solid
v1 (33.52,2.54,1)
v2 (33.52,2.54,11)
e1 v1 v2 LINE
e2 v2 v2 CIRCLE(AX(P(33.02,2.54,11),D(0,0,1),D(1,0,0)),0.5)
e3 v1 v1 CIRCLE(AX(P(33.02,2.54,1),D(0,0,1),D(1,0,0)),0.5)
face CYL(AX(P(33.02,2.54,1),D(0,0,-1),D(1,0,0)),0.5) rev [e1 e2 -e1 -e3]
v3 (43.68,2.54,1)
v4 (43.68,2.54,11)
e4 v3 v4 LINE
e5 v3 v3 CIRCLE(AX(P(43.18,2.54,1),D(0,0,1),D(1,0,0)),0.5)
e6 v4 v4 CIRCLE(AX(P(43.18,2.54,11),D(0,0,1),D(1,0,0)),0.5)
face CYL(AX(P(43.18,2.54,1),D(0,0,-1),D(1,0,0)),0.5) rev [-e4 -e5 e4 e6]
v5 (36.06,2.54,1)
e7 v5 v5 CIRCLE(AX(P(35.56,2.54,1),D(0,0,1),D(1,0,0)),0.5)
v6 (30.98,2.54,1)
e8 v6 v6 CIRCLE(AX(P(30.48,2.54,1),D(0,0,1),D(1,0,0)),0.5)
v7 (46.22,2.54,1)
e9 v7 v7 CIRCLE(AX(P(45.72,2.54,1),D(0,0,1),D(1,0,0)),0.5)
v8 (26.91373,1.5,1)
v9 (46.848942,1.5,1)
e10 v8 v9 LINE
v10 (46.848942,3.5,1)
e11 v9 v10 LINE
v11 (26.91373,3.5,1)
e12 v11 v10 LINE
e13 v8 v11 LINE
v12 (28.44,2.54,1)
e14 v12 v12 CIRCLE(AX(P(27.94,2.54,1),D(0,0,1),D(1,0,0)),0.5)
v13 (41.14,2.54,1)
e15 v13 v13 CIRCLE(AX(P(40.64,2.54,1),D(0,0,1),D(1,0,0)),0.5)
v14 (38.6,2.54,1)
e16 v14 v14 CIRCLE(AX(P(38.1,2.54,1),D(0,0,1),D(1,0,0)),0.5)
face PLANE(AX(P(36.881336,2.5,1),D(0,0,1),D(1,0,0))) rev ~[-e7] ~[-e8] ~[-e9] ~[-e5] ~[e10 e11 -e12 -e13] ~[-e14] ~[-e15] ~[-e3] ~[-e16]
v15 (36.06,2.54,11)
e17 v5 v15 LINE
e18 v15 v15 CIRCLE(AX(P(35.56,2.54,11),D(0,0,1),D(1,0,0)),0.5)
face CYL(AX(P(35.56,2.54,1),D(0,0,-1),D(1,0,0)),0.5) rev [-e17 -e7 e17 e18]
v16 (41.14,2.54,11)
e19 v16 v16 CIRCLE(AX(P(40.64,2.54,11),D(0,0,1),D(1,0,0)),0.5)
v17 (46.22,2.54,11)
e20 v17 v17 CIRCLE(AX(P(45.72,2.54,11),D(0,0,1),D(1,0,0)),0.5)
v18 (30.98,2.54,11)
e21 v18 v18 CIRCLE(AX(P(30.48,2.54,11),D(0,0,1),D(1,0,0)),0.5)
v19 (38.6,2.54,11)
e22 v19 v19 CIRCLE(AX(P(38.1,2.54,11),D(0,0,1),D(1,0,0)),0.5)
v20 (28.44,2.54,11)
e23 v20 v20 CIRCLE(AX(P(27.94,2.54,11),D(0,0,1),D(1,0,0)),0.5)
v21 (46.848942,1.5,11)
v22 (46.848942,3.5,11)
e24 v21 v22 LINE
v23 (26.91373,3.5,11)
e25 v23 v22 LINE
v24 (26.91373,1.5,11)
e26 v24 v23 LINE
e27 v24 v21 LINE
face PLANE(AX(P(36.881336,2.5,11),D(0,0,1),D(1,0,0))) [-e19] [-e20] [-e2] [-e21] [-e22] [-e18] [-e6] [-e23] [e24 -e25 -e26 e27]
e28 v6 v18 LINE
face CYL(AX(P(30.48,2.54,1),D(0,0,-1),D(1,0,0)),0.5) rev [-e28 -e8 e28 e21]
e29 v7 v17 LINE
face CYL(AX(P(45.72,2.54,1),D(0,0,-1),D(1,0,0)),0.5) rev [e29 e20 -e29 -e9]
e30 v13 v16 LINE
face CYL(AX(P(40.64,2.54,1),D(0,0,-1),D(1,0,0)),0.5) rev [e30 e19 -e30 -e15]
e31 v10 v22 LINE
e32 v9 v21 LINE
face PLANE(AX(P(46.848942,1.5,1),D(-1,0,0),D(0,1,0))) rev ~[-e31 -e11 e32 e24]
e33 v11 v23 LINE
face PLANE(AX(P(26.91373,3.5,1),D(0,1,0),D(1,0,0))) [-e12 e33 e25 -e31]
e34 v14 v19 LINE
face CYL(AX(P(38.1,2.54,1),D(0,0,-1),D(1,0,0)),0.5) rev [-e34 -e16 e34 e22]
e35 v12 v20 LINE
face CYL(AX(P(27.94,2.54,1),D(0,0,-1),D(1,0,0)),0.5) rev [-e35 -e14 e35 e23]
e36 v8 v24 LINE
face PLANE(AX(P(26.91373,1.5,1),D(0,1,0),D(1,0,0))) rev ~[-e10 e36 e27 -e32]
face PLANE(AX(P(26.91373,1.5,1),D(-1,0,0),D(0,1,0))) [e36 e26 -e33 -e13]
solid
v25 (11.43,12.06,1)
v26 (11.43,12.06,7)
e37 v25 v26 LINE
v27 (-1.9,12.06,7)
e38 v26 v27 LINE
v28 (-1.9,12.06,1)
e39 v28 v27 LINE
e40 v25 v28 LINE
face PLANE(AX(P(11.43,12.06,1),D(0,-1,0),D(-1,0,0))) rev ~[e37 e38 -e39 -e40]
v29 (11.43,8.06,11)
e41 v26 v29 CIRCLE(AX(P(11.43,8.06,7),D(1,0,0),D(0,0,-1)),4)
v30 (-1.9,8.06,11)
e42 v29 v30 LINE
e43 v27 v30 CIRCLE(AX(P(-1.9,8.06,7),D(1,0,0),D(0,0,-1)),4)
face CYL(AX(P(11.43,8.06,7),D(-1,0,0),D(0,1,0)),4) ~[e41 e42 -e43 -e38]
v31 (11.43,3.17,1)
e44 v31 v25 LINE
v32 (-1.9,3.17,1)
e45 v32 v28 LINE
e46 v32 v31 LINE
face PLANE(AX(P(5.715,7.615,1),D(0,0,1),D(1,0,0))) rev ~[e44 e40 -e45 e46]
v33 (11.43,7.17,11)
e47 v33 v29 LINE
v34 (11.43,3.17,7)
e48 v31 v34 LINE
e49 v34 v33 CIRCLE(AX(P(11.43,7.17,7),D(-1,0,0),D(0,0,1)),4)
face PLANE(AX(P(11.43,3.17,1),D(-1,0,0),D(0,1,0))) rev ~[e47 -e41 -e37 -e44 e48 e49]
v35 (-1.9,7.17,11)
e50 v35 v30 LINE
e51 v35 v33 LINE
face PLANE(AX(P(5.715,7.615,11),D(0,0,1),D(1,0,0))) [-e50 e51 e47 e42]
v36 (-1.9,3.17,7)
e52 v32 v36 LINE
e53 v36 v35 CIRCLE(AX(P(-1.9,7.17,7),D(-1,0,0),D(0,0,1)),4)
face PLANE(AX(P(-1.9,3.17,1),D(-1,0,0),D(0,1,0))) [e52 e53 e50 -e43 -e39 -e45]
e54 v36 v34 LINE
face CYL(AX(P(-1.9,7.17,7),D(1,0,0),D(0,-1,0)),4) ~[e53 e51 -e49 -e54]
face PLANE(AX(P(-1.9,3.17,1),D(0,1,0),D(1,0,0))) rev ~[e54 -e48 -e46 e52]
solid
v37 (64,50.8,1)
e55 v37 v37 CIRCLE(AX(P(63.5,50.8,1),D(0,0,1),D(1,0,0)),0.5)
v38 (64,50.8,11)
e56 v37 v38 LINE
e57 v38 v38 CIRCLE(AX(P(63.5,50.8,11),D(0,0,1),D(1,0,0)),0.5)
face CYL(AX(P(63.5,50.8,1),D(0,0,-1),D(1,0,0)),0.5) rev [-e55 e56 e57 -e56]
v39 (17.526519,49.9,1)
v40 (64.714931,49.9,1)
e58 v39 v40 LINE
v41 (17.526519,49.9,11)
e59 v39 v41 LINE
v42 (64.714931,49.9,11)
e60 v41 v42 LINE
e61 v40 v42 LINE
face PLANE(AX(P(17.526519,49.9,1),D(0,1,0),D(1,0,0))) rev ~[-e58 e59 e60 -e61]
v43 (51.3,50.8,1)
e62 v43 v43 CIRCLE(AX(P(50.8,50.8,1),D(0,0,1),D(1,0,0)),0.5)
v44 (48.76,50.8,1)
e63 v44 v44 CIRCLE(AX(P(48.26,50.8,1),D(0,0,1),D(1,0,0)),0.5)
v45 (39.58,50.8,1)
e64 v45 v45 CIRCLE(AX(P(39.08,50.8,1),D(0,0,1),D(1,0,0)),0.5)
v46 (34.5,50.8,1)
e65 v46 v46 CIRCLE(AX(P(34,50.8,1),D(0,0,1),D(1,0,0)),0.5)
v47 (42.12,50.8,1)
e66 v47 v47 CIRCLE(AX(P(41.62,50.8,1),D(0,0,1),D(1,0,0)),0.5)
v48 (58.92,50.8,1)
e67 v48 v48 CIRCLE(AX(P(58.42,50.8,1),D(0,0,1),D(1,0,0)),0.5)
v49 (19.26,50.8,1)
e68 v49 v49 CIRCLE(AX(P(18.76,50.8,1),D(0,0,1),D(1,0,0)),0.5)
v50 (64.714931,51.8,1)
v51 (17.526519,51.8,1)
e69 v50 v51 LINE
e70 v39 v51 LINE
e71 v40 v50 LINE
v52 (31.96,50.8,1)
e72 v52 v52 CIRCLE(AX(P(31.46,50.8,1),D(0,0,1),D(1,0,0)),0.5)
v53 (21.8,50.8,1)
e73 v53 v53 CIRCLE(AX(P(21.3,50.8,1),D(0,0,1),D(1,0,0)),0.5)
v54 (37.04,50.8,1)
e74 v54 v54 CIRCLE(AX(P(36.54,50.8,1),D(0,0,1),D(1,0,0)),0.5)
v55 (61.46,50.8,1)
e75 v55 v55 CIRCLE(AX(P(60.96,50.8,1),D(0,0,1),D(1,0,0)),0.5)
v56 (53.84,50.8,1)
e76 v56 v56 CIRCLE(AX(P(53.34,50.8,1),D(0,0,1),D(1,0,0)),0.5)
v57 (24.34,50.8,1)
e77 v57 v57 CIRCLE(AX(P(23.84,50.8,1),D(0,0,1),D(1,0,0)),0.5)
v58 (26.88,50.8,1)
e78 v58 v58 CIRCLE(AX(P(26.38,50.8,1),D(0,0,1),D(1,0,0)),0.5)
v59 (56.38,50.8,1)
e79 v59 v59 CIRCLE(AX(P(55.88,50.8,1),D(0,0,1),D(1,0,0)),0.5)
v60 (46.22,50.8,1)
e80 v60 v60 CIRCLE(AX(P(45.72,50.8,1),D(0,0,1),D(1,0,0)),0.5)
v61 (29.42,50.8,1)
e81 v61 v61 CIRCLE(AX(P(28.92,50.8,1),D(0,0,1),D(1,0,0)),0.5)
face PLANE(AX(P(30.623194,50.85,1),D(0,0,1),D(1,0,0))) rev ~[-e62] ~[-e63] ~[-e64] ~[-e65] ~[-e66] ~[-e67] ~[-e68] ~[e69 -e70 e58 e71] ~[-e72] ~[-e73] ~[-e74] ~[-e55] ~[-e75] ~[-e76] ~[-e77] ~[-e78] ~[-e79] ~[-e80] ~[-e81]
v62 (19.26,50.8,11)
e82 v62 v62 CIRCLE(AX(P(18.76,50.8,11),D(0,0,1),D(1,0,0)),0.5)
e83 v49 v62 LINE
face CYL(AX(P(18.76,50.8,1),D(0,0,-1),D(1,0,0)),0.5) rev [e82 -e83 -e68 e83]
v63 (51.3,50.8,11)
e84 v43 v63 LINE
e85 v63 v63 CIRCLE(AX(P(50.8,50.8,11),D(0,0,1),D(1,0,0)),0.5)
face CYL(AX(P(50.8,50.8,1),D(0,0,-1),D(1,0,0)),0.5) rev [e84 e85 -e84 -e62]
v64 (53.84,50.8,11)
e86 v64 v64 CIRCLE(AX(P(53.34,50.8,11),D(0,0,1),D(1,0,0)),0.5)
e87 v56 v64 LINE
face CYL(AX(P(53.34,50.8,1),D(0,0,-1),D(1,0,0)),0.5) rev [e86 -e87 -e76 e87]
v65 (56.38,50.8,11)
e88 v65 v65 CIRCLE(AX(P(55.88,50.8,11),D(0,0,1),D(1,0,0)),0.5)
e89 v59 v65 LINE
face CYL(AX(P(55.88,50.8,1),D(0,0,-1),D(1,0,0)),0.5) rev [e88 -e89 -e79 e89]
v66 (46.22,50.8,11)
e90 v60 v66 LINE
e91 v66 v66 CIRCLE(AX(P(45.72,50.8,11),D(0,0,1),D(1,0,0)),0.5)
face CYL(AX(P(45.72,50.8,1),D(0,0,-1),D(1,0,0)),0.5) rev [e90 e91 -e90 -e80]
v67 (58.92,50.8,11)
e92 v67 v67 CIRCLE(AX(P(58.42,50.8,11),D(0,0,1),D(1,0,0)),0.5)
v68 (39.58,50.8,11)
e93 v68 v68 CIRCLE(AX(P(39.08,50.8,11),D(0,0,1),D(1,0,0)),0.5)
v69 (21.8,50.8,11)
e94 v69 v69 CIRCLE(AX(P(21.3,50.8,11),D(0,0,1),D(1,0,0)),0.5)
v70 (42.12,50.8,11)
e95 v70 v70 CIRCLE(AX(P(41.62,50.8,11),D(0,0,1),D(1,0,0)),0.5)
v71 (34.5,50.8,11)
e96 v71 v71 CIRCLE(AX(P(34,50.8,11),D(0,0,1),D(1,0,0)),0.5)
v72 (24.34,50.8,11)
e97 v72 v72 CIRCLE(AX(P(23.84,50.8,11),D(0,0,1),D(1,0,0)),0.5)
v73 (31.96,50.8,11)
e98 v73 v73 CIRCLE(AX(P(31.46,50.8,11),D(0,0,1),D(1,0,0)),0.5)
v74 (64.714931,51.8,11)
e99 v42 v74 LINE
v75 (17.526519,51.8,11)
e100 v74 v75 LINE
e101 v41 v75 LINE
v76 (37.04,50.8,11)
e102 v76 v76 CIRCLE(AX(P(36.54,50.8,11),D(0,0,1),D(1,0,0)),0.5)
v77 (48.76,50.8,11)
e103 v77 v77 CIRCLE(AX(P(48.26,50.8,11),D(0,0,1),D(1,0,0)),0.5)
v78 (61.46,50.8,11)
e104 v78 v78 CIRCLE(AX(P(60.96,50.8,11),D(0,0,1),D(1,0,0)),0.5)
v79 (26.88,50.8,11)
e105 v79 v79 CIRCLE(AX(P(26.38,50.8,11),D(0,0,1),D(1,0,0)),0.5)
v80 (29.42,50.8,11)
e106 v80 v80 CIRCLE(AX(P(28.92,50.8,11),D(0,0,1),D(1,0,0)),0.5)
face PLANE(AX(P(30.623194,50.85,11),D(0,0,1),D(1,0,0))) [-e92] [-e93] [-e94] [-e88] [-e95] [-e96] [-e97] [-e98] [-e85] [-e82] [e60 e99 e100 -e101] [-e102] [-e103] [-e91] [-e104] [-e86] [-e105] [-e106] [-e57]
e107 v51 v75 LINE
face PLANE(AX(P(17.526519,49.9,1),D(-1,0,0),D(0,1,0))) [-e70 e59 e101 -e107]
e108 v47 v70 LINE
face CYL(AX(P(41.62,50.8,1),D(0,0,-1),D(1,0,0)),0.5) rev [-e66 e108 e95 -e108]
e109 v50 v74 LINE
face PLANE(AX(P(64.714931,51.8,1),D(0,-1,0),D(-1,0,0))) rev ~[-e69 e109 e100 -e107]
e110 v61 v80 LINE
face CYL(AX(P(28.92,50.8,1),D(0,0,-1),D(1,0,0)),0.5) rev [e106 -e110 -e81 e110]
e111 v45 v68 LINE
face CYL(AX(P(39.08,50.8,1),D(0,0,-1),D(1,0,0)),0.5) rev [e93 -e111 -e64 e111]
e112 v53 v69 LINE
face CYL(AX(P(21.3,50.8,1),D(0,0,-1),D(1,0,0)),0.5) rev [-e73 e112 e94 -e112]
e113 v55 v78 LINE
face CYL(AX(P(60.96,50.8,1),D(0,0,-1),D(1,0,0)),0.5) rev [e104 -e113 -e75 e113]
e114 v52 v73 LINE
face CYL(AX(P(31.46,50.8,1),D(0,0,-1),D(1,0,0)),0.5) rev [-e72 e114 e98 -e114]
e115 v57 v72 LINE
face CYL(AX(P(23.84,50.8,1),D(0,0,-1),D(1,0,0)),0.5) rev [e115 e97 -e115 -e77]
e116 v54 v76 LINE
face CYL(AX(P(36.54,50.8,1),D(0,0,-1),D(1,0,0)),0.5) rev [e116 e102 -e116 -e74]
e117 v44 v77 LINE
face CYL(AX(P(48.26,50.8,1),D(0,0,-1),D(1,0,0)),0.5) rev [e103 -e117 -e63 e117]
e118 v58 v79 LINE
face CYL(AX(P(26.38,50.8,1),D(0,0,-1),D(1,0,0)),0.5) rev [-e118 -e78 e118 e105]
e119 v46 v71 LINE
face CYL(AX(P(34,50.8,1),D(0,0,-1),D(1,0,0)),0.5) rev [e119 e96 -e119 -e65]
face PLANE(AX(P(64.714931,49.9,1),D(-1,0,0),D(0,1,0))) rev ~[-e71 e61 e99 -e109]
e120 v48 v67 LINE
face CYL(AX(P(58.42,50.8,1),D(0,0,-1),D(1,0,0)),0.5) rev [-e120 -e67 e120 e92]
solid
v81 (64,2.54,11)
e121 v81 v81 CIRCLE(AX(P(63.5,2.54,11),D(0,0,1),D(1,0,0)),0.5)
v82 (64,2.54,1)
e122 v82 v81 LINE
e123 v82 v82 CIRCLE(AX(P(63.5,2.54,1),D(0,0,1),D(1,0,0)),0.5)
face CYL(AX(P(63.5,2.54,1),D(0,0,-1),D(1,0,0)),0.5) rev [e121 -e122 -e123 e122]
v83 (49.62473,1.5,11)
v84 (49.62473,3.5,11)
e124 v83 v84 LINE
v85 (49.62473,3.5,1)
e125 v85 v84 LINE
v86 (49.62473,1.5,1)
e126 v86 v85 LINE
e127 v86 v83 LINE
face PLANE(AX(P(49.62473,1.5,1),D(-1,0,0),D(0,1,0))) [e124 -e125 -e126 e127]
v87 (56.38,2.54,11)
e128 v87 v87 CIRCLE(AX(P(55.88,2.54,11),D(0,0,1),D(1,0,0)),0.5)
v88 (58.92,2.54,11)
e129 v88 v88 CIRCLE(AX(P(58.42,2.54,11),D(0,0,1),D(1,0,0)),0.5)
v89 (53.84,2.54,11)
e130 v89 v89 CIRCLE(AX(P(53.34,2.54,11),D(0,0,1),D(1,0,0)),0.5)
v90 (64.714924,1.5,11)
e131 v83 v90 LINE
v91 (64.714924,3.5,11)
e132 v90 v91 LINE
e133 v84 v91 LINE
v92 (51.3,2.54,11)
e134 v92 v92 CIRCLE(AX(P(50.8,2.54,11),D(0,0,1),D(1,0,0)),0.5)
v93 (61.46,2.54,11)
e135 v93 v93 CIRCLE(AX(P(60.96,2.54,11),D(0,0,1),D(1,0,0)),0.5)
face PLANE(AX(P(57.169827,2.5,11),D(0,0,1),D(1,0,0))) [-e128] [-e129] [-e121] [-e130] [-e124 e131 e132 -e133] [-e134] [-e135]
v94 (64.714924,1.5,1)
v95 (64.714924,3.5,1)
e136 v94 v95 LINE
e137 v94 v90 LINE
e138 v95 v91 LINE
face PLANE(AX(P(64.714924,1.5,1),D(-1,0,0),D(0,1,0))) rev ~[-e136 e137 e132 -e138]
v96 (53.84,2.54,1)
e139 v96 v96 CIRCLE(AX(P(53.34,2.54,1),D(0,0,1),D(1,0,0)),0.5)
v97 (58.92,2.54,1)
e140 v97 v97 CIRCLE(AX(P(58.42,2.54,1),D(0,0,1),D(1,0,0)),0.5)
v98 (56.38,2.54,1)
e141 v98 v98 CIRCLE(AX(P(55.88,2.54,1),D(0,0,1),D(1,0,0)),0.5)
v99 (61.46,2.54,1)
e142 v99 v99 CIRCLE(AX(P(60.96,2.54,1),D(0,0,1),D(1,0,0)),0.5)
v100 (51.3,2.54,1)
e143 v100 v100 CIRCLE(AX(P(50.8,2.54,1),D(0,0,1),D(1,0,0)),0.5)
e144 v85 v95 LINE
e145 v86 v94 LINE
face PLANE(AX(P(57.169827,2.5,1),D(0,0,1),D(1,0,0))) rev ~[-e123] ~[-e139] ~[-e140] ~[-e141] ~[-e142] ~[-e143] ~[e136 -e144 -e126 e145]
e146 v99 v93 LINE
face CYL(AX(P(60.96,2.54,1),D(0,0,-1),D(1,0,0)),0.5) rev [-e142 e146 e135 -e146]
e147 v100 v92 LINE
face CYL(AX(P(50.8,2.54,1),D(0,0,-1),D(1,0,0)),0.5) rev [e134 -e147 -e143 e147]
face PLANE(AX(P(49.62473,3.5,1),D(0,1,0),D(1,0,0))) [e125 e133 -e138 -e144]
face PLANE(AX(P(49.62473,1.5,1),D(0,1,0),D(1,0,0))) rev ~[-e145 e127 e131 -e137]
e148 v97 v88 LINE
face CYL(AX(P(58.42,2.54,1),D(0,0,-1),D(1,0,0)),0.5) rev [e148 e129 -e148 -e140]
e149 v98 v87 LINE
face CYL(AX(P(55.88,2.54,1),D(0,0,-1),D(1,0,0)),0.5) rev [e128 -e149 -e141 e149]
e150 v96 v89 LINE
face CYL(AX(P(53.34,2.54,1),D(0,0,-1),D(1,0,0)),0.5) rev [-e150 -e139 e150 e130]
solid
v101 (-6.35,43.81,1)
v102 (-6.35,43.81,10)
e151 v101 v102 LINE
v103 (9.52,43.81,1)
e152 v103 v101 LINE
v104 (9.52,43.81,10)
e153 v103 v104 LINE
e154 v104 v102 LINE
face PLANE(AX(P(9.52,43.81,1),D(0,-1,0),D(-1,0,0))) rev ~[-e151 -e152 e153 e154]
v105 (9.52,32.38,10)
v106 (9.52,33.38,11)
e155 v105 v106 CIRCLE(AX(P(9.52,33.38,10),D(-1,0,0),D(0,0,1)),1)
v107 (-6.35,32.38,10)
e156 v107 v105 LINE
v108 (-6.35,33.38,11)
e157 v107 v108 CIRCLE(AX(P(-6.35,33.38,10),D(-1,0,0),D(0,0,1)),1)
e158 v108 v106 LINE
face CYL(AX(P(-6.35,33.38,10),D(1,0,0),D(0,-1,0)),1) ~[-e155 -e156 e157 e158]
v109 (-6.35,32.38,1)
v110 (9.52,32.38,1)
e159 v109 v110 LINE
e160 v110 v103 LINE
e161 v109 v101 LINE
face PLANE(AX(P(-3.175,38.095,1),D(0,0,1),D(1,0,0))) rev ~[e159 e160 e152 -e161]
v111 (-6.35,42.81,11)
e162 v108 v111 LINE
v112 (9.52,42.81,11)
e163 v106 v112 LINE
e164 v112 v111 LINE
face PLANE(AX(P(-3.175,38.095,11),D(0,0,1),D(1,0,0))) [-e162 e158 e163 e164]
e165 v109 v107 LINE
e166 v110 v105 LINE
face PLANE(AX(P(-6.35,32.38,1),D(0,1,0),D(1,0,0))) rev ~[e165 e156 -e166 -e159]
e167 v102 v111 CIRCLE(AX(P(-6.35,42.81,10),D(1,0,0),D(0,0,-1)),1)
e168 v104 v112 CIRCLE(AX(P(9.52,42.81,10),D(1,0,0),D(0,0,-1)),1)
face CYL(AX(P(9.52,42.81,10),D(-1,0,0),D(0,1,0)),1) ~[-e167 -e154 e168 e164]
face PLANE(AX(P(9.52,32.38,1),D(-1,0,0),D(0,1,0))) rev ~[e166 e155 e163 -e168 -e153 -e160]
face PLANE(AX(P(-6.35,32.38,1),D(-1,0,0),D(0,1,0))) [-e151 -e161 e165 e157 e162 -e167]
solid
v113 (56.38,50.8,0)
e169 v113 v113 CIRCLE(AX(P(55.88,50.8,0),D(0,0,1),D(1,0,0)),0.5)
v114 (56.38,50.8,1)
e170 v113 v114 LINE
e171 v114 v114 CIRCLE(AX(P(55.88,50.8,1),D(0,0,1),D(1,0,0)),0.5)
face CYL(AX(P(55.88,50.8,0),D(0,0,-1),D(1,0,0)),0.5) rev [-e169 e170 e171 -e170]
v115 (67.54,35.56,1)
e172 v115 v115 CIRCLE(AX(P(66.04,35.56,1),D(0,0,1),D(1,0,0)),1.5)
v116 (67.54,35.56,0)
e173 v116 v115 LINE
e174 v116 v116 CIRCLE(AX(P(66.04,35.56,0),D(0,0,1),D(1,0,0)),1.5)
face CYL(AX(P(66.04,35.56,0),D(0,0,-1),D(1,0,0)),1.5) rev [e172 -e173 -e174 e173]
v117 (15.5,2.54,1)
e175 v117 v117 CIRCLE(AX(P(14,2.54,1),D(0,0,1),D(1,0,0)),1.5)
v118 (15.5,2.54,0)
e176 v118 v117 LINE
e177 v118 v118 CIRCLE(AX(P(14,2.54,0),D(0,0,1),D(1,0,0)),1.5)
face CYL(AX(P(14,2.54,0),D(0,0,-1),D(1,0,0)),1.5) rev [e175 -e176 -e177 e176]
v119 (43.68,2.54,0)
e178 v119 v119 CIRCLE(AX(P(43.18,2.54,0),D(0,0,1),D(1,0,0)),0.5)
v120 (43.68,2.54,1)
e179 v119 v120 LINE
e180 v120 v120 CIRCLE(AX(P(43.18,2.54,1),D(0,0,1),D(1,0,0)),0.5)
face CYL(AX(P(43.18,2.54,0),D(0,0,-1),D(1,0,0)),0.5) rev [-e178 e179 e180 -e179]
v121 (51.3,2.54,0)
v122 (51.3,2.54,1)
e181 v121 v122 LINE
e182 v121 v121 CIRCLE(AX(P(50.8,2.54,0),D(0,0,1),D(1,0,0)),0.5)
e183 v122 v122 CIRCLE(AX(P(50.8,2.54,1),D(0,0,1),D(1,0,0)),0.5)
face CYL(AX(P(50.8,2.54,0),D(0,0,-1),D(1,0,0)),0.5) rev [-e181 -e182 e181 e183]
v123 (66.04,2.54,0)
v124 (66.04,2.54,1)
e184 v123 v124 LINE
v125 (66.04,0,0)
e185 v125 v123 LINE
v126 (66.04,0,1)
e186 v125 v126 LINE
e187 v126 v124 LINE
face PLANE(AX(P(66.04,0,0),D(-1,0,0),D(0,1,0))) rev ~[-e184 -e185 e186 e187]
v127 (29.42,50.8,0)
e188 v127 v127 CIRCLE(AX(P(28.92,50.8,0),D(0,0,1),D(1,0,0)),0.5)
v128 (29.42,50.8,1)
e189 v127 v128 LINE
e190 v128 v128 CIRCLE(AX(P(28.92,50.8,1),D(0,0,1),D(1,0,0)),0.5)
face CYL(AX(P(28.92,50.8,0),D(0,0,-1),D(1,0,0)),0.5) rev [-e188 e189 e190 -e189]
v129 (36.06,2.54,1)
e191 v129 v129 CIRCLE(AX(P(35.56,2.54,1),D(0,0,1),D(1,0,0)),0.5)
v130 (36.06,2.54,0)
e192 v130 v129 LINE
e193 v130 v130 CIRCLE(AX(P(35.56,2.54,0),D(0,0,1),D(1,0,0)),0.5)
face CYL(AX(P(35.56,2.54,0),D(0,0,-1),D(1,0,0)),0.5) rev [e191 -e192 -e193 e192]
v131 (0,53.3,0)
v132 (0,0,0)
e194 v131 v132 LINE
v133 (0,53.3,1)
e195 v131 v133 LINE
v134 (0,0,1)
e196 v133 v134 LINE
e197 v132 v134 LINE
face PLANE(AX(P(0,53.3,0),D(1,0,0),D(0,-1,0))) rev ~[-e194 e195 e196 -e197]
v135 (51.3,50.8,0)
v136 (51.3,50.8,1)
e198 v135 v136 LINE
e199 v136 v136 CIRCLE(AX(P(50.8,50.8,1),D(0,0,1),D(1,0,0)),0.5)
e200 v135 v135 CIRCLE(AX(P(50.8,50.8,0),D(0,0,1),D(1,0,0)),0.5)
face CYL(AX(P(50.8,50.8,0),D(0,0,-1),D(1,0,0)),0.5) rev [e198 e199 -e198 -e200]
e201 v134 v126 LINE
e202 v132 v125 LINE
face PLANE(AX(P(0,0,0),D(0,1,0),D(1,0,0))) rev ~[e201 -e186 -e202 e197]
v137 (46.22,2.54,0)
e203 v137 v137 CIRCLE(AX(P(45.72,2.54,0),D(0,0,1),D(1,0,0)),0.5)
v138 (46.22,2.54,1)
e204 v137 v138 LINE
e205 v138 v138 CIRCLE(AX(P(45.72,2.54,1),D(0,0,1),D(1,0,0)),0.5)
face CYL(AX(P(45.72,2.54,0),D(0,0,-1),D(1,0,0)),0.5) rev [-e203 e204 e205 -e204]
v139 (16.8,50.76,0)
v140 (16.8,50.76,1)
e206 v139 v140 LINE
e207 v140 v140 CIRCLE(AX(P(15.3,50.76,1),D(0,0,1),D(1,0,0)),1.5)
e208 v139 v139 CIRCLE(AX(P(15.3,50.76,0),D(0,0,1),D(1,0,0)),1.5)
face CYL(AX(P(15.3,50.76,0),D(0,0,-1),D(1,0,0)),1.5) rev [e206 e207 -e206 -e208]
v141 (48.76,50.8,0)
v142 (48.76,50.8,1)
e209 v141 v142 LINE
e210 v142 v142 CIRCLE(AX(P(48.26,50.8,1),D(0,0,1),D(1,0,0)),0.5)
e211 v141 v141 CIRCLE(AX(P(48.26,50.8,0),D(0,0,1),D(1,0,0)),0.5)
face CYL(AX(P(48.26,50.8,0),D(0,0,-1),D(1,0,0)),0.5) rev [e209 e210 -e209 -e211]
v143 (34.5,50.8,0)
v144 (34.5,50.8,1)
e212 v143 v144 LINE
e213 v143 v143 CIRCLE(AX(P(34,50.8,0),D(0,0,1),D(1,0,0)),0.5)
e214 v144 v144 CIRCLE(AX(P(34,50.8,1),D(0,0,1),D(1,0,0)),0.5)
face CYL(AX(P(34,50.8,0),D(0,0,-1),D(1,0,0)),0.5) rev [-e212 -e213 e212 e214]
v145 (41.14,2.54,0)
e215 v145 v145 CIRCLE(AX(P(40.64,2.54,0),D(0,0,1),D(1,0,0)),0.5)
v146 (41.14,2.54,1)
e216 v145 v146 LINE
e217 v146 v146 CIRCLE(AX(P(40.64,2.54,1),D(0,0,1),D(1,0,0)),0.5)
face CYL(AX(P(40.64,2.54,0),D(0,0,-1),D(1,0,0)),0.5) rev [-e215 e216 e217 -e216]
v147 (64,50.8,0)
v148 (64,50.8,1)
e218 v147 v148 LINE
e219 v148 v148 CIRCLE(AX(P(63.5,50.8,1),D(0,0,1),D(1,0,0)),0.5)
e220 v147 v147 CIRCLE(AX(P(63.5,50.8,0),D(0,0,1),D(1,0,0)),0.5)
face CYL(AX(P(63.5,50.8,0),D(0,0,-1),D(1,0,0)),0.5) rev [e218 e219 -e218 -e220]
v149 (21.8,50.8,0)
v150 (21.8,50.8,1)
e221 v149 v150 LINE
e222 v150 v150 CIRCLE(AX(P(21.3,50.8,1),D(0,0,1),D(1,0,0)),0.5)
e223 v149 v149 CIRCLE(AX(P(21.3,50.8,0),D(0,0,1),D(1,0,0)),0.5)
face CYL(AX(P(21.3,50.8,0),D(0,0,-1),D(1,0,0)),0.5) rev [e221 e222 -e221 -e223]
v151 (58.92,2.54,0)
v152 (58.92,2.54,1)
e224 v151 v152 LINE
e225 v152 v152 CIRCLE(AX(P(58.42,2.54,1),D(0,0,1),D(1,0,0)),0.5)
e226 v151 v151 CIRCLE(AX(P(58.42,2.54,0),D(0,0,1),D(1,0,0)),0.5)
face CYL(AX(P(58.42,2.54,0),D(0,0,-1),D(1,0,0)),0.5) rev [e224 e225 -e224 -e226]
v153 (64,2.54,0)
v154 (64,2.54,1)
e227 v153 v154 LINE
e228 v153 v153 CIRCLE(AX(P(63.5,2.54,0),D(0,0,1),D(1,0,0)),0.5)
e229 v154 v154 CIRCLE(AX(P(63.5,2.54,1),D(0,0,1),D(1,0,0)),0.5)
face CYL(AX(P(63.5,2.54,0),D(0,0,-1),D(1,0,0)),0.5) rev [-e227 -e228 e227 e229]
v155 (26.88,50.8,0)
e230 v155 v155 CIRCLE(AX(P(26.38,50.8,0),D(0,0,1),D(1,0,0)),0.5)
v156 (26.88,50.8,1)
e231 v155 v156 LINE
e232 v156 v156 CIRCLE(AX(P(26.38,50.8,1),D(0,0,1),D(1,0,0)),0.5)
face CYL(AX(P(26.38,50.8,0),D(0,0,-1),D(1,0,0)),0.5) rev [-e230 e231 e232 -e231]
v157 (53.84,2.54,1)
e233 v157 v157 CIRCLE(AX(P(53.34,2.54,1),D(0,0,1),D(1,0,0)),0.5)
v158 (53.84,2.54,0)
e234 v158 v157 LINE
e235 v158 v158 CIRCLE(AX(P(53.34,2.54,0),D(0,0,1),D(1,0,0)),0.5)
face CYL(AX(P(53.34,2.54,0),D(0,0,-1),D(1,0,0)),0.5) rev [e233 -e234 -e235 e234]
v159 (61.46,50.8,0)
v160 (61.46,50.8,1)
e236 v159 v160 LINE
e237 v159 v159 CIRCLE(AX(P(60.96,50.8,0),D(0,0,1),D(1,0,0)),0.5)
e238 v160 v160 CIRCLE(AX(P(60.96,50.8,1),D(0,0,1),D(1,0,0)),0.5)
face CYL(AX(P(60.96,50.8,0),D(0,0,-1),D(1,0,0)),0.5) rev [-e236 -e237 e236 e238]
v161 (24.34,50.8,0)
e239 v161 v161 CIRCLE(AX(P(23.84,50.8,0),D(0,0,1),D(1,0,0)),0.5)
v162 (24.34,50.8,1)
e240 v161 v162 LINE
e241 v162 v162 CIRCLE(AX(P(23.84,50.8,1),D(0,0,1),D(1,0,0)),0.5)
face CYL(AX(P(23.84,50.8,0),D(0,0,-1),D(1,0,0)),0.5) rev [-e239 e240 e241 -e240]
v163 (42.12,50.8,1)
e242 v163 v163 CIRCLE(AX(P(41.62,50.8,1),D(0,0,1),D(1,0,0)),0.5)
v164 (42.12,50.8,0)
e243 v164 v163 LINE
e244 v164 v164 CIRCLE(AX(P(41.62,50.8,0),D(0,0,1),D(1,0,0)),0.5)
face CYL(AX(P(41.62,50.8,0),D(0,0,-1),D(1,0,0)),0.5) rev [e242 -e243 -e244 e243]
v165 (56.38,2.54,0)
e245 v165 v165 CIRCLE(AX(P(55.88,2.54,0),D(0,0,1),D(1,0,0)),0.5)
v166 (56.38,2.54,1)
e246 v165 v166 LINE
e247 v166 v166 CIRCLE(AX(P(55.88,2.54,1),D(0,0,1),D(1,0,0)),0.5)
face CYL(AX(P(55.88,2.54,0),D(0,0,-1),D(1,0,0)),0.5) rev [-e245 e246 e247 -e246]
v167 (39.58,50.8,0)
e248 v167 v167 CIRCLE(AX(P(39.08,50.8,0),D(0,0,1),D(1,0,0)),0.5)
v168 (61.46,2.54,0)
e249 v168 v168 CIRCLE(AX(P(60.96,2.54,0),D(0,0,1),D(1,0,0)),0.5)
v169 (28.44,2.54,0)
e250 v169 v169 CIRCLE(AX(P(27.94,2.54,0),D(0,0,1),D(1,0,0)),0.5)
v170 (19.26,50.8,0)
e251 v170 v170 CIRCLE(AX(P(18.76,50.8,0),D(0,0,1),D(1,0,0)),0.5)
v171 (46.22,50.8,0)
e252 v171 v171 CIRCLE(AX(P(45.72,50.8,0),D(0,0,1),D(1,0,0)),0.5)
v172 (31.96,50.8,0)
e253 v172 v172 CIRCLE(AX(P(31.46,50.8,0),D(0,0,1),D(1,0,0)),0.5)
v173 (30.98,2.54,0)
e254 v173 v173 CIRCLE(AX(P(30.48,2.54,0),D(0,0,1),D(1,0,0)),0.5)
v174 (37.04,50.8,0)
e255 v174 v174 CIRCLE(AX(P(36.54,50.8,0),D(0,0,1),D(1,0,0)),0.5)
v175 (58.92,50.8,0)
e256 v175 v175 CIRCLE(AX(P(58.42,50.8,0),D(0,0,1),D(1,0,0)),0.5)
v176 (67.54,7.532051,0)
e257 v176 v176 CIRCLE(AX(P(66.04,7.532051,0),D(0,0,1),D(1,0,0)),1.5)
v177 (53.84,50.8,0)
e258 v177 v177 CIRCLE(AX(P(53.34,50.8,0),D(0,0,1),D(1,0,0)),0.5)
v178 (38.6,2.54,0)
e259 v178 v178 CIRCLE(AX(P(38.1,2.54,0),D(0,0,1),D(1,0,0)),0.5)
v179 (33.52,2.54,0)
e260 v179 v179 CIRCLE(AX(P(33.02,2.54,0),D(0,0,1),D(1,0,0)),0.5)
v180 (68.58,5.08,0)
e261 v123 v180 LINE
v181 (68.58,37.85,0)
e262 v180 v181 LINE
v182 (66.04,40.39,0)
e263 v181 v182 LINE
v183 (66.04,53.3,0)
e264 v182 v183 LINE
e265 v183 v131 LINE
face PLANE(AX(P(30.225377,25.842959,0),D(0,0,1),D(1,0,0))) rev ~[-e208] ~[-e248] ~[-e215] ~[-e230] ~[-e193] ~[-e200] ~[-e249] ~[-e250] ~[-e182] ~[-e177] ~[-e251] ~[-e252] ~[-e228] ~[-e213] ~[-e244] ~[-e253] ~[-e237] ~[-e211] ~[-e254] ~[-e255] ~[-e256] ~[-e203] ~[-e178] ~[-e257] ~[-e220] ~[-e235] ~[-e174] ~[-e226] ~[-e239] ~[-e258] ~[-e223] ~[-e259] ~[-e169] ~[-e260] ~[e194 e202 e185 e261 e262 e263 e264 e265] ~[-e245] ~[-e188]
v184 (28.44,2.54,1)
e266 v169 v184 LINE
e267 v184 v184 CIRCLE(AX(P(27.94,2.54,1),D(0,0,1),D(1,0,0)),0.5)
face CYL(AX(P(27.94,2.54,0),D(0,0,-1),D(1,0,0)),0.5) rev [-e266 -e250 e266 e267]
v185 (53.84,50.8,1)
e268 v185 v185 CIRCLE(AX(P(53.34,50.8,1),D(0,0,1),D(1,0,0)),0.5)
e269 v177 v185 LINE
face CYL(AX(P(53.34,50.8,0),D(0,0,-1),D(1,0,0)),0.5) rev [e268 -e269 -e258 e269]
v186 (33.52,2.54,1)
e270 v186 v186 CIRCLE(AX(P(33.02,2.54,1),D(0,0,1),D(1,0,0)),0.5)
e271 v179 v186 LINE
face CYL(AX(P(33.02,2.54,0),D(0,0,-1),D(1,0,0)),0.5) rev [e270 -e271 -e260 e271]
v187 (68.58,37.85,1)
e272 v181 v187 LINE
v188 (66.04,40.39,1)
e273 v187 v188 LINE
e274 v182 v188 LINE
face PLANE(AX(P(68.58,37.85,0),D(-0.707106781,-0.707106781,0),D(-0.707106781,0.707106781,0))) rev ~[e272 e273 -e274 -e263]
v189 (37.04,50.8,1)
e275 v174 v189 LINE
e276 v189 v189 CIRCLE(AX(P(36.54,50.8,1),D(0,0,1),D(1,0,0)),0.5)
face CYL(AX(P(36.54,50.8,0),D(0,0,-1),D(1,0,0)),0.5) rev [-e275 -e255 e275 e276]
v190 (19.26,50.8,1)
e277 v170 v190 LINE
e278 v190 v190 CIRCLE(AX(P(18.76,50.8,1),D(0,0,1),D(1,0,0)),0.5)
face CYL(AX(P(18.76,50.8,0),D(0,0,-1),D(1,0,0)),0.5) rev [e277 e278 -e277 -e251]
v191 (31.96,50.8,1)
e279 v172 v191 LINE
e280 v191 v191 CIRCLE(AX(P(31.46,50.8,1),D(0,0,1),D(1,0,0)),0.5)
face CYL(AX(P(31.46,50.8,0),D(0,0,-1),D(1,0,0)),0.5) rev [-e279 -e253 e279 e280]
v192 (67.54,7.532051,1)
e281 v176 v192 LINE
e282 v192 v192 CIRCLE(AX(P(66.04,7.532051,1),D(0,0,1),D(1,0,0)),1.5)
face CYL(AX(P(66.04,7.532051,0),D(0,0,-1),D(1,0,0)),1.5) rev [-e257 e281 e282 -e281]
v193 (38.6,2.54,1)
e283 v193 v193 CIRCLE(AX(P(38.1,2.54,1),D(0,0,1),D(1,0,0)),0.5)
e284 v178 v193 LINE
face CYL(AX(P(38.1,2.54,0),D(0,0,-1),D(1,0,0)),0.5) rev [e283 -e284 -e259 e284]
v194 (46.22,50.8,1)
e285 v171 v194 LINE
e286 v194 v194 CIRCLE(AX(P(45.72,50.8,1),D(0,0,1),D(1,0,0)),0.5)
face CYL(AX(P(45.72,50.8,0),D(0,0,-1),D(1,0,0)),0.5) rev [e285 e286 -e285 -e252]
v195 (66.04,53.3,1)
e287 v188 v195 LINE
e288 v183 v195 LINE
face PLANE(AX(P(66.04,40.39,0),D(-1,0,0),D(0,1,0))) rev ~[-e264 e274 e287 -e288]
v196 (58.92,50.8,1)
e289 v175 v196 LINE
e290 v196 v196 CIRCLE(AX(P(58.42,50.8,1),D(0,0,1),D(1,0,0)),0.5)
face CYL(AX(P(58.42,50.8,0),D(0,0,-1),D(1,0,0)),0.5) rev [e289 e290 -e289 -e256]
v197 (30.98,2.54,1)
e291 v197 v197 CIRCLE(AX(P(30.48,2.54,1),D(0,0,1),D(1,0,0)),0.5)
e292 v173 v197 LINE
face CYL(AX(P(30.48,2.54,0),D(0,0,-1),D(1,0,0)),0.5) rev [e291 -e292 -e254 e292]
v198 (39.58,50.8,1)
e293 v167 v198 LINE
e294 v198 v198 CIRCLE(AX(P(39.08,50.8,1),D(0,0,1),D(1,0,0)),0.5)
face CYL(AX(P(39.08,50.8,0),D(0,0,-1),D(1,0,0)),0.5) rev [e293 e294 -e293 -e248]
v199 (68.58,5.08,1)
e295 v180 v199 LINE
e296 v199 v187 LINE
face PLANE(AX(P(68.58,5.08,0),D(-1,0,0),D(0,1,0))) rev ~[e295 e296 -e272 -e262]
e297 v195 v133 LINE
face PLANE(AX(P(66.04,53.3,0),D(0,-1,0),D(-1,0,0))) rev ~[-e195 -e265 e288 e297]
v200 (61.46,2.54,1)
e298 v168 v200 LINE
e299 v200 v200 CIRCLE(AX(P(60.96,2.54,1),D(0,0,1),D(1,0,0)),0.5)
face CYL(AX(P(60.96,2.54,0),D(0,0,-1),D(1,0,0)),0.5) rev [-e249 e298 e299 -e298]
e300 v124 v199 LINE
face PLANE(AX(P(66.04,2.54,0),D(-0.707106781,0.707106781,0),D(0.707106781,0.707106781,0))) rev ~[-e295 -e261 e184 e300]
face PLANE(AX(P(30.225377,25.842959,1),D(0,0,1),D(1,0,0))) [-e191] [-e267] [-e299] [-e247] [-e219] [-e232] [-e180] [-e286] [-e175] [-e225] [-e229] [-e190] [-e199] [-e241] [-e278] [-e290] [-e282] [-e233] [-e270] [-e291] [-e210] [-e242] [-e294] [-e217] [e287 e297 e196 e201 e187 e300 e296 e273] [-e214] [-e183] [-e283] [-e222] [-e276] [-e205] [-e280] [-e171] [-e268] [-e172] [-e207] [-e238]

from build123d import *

# Parameters (mm, degrees)
F0_R     = 1.5
F0_W     = 19.9352111667
F0_H     = 2
F0_W_2   = 15.0901935995
F0_W_3   = 9.52
F0_H_2   = 11.43
F0_W_4   = 11.43
F0_H_3   = 8.89
F0_W_5   = 26.1933505535
F0_H_4   = 1.9
F0_R_2   = 0.5
F0_W_6   = 20.9950618446
F1_DEPTH = 1
F2_W     = 26.1933505535
F2_H     = 1.9
F2_R     = 0.5
F2_W_2   = 20.9950618446
F3_DEPTH = 10
F2_W_3   = 19.9352111667
F2_H_2   = 2
F2_W_4   = 15.0901935995
F2_W_5   = 6.35
F2_H_3   = 11.43
F2_W_6   = 9.52
F4_DEPTH = 10
F2_W_7   = 11.43
F2_H_4   = 8.89
F2_W_8   = 1.9
F5_DEPTH = 10
F6_R     = 1
F7_R     = 4


with BuildPart() as f1:
    # F0 (on Top) → F1 (new body)
    with BuildSketch(Plane.XY):
        Polygon((0, 3.17), (0, 0), (66.04, 0), (66.04, 2.54), (68.58, 5.08), (68.58, 37.85), (66.04, 40.39), (66.04, 53.3), (0, 53.3), (0, 43.81), (9.52, 43.81), (9.52, 32.38), (0, 32.38), (0, 12.06), (11.43, 12.06), (11.43, 3.17), align=None)
        with Locations((14, 2.54)):
            Circle(F0_R, mode=Mode.SUBTRACT)
        with Locations((36.881336011, 2.5)):
            Rectangle(F0_W, F0_H, mode=Mode.SUBTRACT)
        with Locations((57.1698267013, 2.5)):
            Rectangle(F0_W_2, F0_H, mode=Mode.SUBTRACT)
        with Locations((66.04, 7.532051314)):
            Circle(F0_R, mode=Mode.SUBTRACT)
        with Locations((15.3, 50.76)):
            Circle(F0_R, mode=Mode.SUBTRACT)
        with Locations((66.04, 35.56)):
            Circle(F0_R, mode=Mode.SUBTRACT)
        Polygon((43.719869107, 49.9), (17.5265185535, 49.9), (17.5265185535, 51.8), (43.719869107, 51.8), (64.7149309516, 51.8), (64.7149309516, 49.9), align=None, mode=Mode.SUBTRACT)
        with Locations((4.76, 38.095)):
            Rectangle(F0_W_3, F0_H_2)
        with Locations((5.715, 7.615)):
            Rectangle(F0_W_4, F0_H_3)
        with Locations((30.6231938303, 50.85)):
            Rectangle(F0_W_5, F0_H_4)
        with Locations((18.76, 50.8)):
            Circle(F0_R_2, mode=Mode.SUBTRACT)
        with Locations((21.3, 50.8)):
            Circle(F0_R_2, mode=Mode.SUBTRACT)
        with Locations((23.84, 50.8)):
            Circle(F0_R_2, mode=Mode.SUBTRACT)
        with Locations((26.38, 50.8)):
            Circle(F0_R_2, mode=Mode.SUBTRACT)
        with Locations((28.92, 50.8)):
            Circle(F0_R_2, mode=Mode.SUBTRACT)
        with Locations((31.46, 50.8)):
            Circle(F0_R_2, mode=Mode.SUBTRACT)
        with Locations((34, 50.8)):
            Circle(F0_R_2, mode=Mode.SUBTRACT)
        with Locations((36.54, 50.8)):
            Circle(F0_R_2, mode=Mode.SUBTRACT)
        with Locations((39.08, 50.8)):
            Circle(F0_R_2, mode=Mode.SUBTRACT)
        with Locations((41.62, 50.8)):
            Circle(F0_R_2, mode=Mode.SUBTRACT)
        with Locations((54.2174000293, 50.85)):
            Rectangle(F0_W_6, F0_H_4)
        with Locations((45.72, 50.8)):
            Circle(F0_R_2, mode=Mode.SUBTRACT)
        with Locations((48.26, 50.8)):
            Circle(F0_R_2, mode=Mode.SUBTRACT)
        with Locations((50.8, 50.8)):
            Circle(F0_R_2, mode=Mode.SUBTRACT)
        with Locations((53.34, 50.8)):
            Circle(F0_R_2, mode=Mode.SUBTRACT)
        with Locations((55.88, 50.8)):
            Circle(F0_R_2, mode=Mode.SUBTRACT)
        with Locations((58.42, 50.8)):
            Circle(F0_R_2, mode=Mode.SUBTRACT)
        with Locations((60.96, 50.8)):
            Circle(F0_R_2, mode=Mode.SUBTRACT)
        with Locations((63.5, 50.8)):
            Circle(F0_R_2, mode=Mode.SUBTRACT)
        with Locations((36.881336011, 2.5)):
            Rectangle(F0_W, F0_H)
        with Locations((27.94, 2.54)):
            Circle(F0_R_2, mode=Mode.SUBTRACT)
        with Locations((30.48, 2.54)):
            Circle(F0_R_2, mode=Mode.SUBTRACT)
        with Locations((33.02, 2.54)):
            Circle(F0_R_2, mode=Mode.SUBTRACT)
        with Locations((35.56, 2.54)):
            Circle(F0_R_2, mode=Mode.SUBTRACT)
        with Locations((38.1, 2.54)):
            Circle(F0_R_2, mode=Mode.SUBTRACT)
        with Locations((40.64, 2.54)):
            Circle(F0_R_2, mode=Mode.SUBTRACT)
        with Locations((43.18, 2.54)):
            Circle(F0_R_2, mode=Mode.SUBTRACT)
        with Locations((45.72, 2.54)):
            Circle(F0_R_2, mode=Mode.SUBTRACT)
        with Locations((57.1698267013, 2.5)):
            Rectangle(F0_W_2, F0_H)
        with Locations((50.8, 2.54)):
            Circle(F0_R_2, mode=Mode.SUBTRACT)
        with Locations((53.34, 2.54)):
            Circle(F0_R_2, mode=Mode.SUBTRACT)
        with Locations((55.88, 2.54)):
            Circle(F0_R_2, mode=Mode.SUBTRACT)
        with Locations((58.42, 2.54)):
            Circle(F0_R_2, mode=Mode.SUBTRACT)
        with Locations((60.96, 2.54)):
            Circle(F0_R_2, mode=Mode.SUBTRACT)
        with Locations((63.5, 2.54)):
            Circle(F0_R_2, mode=Mode.SUBTRACT)
    extrude(amount=F1_DEPTH)


with BuildPart() as f3:
    # F2 (on face) → F3 (new body)
    with BuildSketch(Plane.XY.offset(1)):
        with Locations((30.6231938303, 50.85)):
            Rectangle(F2_W, F2_H)
        with Locations((18.76, 50.8)):
            Circle(F2_R, mode=Mode.SUBTRACT)
        with Locations((21.3, 50.8)):
            Circle(F2_R, mode=Mode.SUBTRACT)
        with Locations((23.84, 50.8)):
            Circle(F2_R, mode=Mode.SUBTRACT)
        with Locations((26.38, 50.8)):
            Circle(F2_R, mode=Mode.SUBTRACT)
        with Locations((28.92, 50.8)):
            Circle(F2_R, mode=Mode.SUBTRACT)
        with Locations((31.46, 50.8)):
            Circle(F2_R, mode=Mode.SUBTRACT)
        with Locations((34, 50.8)):
            Circle(F2_R, mode=Mode.SUBTRACT)
        with Locations((36.54, 50.8)):
            Circle(F2_R, mode=Mode.SUBTRACT)
        with Locations((39.08, 50.8)):
            Circle(F2_R, mode=Mode.SUBTRACT)
        with Locations((41.62, 50.8)):
            Circle(F2_R, mode=Mode.SUBTRACT)
        with Locations((54.2174000293, 50.85)):
            Rectangle(F2_W_2, F2_H)
        with Locations((45.72, 50.8)):
            Circle(F2_R, mode=Mode.SUBTRACT)
        with Locations((48.26, 50.8)):
            Circle(F2_R, mode=Mode.SUBTRACT)
        with Locations((50.8, 50.8)):
            Circle(F2_R, mode=Mode.SUBTRACT)
        with Locations((53.34, 50.8)):
            Circle(F2_R, mode=Mode.SUBTRACT)
        with Locations((55.88, 50.8)):
            Circle(F2_R, mode=Mode.SUBTRACT)
        with Locations((58.42, 50.8)):
            Circle(F2_R, mode=Mode.SUBTRACT)
        with Locations((60.96, 50.8)):
            Circle(F2_R, mode=Mode.SUBTRACT)
        with Locations((63.5, 50.8)):
            Circle(F2_R, mode=Mode.SUBTRACT)
    extrude(amount=F3_DEPTH)


with BuildPart() as f3b:
    # F2 (on face) → F3, piece 2 (new body)
    with BuildSketch(Plane.XY.offset(1)):
        with Locations((36.881336011, 2.5)):
            Rectangle(F2_W_3, F2_H_2)
        with Locations((27.94, 2.54)):
            Circle(F2_R, mode=Mode.SUBTRACT)
        with Locations((30.48, 2.54)):
            Circle(F2_R, mode=Mode.SUBTRACT)
        with Locations((33.02, 2.54)):
            Circle(F2_R, mode=Mode.SUBTRACT)
        with Locations((35.56, 2.54)):
            Circle(F2_R, mode=Mode.SUBTRACT)
        with Locations((38.1, 2.54)):
            Circle(F2_R, mode=Mode.SUBTRACT)
        with Locations((40.64, 2.54)):
            Circle(F2_R, mode=Mode.SUBTRACT)
        with Locations((43.18, 2.54)):
            Circle(F2_R, mode=Mode.SUBTRACT)
        with Locations((45.72, 2.54)):
            Circle(F2_R, mode=Mode.SUBTRACT)
    extrude(amount=F3_DEPTH)


with BuildPart() as f3c:
    # F2 (on face) → F3, piece 3 (new body)
    with BuildSketch(Plane.XY.offset(1)):
        with Locations((57.1698267013, 2.5)):
            Rectangle(F2_W_4, F2_H_2)
        with Locations((50.8, 2.54)):
            Circle(F2_R, mode=Mode.SUBTRACT)
        with Locations((53.34, 2.54)):
            Circle(F2_R, mode=Mode.SUBTRACT)
        with Locations((55.88, 2.54)):
            Circle(F2_R, mode=Mode.SUBTRACT)
        with Locations((58.42, 2.54)):
            Circle(F2_R, mode=Mode.SUBTRACT)
        with Locations((60.96, 2.54)):
            Circle(F2_R, mode=Mode.SUBTRACT)
        with Locations((63.5, 2.54)):
            Circle(F2_R, mode=Mode.SUBTRACT)
    extrude(amount=F3_DEPTH)


with BuildPart() as f4:
    # F2 (on face) → F4 (new body)
    with BuildSketch(Plane.XY.offset(1)):
        with Locations((-3.175, 38.095)):
            Rectangle(F2_W_5, F2_H_3)
        with Locations((4.76, 38.095)):
            Rectangle(F2_W_6, F2_H_3)
    extrude(amount=F4_DEPTH)

    # F6
    f6_edges = [f4.edges().sort_by_distance(p)[0] for p in [
        (1.585, 32.38, 11),
        (1.585, 43.81, 11),
    ]]
    fillet(f6_edges, radius=F6_R)


with BuildPart() as f5:
    # F2 (on face) → F5 (new body)
    with BuildSketch(Plane.XY.offset(1)):
        with Locations((5.715, 7.615)):
            Rectangle(F2_W_7, F2_H_4)
        with Locations((-0.95, 7.615)):
            Rectangle(F2_W_8, F2_H_4)
    extrude(amount=F5_DEPTH)

    # F7
    f7_edges = [f5.edges().sort_by_distance(p)[0] for p in [
        (4.765, 3.17, 11),
        (4.765, 12.06, 11),
    ]]
    fillet(f7_edges, radius=F7_R)


solid = Compound([f1.part, f3.part, f3b.part, f3c.part, f4.part, f5.part])
